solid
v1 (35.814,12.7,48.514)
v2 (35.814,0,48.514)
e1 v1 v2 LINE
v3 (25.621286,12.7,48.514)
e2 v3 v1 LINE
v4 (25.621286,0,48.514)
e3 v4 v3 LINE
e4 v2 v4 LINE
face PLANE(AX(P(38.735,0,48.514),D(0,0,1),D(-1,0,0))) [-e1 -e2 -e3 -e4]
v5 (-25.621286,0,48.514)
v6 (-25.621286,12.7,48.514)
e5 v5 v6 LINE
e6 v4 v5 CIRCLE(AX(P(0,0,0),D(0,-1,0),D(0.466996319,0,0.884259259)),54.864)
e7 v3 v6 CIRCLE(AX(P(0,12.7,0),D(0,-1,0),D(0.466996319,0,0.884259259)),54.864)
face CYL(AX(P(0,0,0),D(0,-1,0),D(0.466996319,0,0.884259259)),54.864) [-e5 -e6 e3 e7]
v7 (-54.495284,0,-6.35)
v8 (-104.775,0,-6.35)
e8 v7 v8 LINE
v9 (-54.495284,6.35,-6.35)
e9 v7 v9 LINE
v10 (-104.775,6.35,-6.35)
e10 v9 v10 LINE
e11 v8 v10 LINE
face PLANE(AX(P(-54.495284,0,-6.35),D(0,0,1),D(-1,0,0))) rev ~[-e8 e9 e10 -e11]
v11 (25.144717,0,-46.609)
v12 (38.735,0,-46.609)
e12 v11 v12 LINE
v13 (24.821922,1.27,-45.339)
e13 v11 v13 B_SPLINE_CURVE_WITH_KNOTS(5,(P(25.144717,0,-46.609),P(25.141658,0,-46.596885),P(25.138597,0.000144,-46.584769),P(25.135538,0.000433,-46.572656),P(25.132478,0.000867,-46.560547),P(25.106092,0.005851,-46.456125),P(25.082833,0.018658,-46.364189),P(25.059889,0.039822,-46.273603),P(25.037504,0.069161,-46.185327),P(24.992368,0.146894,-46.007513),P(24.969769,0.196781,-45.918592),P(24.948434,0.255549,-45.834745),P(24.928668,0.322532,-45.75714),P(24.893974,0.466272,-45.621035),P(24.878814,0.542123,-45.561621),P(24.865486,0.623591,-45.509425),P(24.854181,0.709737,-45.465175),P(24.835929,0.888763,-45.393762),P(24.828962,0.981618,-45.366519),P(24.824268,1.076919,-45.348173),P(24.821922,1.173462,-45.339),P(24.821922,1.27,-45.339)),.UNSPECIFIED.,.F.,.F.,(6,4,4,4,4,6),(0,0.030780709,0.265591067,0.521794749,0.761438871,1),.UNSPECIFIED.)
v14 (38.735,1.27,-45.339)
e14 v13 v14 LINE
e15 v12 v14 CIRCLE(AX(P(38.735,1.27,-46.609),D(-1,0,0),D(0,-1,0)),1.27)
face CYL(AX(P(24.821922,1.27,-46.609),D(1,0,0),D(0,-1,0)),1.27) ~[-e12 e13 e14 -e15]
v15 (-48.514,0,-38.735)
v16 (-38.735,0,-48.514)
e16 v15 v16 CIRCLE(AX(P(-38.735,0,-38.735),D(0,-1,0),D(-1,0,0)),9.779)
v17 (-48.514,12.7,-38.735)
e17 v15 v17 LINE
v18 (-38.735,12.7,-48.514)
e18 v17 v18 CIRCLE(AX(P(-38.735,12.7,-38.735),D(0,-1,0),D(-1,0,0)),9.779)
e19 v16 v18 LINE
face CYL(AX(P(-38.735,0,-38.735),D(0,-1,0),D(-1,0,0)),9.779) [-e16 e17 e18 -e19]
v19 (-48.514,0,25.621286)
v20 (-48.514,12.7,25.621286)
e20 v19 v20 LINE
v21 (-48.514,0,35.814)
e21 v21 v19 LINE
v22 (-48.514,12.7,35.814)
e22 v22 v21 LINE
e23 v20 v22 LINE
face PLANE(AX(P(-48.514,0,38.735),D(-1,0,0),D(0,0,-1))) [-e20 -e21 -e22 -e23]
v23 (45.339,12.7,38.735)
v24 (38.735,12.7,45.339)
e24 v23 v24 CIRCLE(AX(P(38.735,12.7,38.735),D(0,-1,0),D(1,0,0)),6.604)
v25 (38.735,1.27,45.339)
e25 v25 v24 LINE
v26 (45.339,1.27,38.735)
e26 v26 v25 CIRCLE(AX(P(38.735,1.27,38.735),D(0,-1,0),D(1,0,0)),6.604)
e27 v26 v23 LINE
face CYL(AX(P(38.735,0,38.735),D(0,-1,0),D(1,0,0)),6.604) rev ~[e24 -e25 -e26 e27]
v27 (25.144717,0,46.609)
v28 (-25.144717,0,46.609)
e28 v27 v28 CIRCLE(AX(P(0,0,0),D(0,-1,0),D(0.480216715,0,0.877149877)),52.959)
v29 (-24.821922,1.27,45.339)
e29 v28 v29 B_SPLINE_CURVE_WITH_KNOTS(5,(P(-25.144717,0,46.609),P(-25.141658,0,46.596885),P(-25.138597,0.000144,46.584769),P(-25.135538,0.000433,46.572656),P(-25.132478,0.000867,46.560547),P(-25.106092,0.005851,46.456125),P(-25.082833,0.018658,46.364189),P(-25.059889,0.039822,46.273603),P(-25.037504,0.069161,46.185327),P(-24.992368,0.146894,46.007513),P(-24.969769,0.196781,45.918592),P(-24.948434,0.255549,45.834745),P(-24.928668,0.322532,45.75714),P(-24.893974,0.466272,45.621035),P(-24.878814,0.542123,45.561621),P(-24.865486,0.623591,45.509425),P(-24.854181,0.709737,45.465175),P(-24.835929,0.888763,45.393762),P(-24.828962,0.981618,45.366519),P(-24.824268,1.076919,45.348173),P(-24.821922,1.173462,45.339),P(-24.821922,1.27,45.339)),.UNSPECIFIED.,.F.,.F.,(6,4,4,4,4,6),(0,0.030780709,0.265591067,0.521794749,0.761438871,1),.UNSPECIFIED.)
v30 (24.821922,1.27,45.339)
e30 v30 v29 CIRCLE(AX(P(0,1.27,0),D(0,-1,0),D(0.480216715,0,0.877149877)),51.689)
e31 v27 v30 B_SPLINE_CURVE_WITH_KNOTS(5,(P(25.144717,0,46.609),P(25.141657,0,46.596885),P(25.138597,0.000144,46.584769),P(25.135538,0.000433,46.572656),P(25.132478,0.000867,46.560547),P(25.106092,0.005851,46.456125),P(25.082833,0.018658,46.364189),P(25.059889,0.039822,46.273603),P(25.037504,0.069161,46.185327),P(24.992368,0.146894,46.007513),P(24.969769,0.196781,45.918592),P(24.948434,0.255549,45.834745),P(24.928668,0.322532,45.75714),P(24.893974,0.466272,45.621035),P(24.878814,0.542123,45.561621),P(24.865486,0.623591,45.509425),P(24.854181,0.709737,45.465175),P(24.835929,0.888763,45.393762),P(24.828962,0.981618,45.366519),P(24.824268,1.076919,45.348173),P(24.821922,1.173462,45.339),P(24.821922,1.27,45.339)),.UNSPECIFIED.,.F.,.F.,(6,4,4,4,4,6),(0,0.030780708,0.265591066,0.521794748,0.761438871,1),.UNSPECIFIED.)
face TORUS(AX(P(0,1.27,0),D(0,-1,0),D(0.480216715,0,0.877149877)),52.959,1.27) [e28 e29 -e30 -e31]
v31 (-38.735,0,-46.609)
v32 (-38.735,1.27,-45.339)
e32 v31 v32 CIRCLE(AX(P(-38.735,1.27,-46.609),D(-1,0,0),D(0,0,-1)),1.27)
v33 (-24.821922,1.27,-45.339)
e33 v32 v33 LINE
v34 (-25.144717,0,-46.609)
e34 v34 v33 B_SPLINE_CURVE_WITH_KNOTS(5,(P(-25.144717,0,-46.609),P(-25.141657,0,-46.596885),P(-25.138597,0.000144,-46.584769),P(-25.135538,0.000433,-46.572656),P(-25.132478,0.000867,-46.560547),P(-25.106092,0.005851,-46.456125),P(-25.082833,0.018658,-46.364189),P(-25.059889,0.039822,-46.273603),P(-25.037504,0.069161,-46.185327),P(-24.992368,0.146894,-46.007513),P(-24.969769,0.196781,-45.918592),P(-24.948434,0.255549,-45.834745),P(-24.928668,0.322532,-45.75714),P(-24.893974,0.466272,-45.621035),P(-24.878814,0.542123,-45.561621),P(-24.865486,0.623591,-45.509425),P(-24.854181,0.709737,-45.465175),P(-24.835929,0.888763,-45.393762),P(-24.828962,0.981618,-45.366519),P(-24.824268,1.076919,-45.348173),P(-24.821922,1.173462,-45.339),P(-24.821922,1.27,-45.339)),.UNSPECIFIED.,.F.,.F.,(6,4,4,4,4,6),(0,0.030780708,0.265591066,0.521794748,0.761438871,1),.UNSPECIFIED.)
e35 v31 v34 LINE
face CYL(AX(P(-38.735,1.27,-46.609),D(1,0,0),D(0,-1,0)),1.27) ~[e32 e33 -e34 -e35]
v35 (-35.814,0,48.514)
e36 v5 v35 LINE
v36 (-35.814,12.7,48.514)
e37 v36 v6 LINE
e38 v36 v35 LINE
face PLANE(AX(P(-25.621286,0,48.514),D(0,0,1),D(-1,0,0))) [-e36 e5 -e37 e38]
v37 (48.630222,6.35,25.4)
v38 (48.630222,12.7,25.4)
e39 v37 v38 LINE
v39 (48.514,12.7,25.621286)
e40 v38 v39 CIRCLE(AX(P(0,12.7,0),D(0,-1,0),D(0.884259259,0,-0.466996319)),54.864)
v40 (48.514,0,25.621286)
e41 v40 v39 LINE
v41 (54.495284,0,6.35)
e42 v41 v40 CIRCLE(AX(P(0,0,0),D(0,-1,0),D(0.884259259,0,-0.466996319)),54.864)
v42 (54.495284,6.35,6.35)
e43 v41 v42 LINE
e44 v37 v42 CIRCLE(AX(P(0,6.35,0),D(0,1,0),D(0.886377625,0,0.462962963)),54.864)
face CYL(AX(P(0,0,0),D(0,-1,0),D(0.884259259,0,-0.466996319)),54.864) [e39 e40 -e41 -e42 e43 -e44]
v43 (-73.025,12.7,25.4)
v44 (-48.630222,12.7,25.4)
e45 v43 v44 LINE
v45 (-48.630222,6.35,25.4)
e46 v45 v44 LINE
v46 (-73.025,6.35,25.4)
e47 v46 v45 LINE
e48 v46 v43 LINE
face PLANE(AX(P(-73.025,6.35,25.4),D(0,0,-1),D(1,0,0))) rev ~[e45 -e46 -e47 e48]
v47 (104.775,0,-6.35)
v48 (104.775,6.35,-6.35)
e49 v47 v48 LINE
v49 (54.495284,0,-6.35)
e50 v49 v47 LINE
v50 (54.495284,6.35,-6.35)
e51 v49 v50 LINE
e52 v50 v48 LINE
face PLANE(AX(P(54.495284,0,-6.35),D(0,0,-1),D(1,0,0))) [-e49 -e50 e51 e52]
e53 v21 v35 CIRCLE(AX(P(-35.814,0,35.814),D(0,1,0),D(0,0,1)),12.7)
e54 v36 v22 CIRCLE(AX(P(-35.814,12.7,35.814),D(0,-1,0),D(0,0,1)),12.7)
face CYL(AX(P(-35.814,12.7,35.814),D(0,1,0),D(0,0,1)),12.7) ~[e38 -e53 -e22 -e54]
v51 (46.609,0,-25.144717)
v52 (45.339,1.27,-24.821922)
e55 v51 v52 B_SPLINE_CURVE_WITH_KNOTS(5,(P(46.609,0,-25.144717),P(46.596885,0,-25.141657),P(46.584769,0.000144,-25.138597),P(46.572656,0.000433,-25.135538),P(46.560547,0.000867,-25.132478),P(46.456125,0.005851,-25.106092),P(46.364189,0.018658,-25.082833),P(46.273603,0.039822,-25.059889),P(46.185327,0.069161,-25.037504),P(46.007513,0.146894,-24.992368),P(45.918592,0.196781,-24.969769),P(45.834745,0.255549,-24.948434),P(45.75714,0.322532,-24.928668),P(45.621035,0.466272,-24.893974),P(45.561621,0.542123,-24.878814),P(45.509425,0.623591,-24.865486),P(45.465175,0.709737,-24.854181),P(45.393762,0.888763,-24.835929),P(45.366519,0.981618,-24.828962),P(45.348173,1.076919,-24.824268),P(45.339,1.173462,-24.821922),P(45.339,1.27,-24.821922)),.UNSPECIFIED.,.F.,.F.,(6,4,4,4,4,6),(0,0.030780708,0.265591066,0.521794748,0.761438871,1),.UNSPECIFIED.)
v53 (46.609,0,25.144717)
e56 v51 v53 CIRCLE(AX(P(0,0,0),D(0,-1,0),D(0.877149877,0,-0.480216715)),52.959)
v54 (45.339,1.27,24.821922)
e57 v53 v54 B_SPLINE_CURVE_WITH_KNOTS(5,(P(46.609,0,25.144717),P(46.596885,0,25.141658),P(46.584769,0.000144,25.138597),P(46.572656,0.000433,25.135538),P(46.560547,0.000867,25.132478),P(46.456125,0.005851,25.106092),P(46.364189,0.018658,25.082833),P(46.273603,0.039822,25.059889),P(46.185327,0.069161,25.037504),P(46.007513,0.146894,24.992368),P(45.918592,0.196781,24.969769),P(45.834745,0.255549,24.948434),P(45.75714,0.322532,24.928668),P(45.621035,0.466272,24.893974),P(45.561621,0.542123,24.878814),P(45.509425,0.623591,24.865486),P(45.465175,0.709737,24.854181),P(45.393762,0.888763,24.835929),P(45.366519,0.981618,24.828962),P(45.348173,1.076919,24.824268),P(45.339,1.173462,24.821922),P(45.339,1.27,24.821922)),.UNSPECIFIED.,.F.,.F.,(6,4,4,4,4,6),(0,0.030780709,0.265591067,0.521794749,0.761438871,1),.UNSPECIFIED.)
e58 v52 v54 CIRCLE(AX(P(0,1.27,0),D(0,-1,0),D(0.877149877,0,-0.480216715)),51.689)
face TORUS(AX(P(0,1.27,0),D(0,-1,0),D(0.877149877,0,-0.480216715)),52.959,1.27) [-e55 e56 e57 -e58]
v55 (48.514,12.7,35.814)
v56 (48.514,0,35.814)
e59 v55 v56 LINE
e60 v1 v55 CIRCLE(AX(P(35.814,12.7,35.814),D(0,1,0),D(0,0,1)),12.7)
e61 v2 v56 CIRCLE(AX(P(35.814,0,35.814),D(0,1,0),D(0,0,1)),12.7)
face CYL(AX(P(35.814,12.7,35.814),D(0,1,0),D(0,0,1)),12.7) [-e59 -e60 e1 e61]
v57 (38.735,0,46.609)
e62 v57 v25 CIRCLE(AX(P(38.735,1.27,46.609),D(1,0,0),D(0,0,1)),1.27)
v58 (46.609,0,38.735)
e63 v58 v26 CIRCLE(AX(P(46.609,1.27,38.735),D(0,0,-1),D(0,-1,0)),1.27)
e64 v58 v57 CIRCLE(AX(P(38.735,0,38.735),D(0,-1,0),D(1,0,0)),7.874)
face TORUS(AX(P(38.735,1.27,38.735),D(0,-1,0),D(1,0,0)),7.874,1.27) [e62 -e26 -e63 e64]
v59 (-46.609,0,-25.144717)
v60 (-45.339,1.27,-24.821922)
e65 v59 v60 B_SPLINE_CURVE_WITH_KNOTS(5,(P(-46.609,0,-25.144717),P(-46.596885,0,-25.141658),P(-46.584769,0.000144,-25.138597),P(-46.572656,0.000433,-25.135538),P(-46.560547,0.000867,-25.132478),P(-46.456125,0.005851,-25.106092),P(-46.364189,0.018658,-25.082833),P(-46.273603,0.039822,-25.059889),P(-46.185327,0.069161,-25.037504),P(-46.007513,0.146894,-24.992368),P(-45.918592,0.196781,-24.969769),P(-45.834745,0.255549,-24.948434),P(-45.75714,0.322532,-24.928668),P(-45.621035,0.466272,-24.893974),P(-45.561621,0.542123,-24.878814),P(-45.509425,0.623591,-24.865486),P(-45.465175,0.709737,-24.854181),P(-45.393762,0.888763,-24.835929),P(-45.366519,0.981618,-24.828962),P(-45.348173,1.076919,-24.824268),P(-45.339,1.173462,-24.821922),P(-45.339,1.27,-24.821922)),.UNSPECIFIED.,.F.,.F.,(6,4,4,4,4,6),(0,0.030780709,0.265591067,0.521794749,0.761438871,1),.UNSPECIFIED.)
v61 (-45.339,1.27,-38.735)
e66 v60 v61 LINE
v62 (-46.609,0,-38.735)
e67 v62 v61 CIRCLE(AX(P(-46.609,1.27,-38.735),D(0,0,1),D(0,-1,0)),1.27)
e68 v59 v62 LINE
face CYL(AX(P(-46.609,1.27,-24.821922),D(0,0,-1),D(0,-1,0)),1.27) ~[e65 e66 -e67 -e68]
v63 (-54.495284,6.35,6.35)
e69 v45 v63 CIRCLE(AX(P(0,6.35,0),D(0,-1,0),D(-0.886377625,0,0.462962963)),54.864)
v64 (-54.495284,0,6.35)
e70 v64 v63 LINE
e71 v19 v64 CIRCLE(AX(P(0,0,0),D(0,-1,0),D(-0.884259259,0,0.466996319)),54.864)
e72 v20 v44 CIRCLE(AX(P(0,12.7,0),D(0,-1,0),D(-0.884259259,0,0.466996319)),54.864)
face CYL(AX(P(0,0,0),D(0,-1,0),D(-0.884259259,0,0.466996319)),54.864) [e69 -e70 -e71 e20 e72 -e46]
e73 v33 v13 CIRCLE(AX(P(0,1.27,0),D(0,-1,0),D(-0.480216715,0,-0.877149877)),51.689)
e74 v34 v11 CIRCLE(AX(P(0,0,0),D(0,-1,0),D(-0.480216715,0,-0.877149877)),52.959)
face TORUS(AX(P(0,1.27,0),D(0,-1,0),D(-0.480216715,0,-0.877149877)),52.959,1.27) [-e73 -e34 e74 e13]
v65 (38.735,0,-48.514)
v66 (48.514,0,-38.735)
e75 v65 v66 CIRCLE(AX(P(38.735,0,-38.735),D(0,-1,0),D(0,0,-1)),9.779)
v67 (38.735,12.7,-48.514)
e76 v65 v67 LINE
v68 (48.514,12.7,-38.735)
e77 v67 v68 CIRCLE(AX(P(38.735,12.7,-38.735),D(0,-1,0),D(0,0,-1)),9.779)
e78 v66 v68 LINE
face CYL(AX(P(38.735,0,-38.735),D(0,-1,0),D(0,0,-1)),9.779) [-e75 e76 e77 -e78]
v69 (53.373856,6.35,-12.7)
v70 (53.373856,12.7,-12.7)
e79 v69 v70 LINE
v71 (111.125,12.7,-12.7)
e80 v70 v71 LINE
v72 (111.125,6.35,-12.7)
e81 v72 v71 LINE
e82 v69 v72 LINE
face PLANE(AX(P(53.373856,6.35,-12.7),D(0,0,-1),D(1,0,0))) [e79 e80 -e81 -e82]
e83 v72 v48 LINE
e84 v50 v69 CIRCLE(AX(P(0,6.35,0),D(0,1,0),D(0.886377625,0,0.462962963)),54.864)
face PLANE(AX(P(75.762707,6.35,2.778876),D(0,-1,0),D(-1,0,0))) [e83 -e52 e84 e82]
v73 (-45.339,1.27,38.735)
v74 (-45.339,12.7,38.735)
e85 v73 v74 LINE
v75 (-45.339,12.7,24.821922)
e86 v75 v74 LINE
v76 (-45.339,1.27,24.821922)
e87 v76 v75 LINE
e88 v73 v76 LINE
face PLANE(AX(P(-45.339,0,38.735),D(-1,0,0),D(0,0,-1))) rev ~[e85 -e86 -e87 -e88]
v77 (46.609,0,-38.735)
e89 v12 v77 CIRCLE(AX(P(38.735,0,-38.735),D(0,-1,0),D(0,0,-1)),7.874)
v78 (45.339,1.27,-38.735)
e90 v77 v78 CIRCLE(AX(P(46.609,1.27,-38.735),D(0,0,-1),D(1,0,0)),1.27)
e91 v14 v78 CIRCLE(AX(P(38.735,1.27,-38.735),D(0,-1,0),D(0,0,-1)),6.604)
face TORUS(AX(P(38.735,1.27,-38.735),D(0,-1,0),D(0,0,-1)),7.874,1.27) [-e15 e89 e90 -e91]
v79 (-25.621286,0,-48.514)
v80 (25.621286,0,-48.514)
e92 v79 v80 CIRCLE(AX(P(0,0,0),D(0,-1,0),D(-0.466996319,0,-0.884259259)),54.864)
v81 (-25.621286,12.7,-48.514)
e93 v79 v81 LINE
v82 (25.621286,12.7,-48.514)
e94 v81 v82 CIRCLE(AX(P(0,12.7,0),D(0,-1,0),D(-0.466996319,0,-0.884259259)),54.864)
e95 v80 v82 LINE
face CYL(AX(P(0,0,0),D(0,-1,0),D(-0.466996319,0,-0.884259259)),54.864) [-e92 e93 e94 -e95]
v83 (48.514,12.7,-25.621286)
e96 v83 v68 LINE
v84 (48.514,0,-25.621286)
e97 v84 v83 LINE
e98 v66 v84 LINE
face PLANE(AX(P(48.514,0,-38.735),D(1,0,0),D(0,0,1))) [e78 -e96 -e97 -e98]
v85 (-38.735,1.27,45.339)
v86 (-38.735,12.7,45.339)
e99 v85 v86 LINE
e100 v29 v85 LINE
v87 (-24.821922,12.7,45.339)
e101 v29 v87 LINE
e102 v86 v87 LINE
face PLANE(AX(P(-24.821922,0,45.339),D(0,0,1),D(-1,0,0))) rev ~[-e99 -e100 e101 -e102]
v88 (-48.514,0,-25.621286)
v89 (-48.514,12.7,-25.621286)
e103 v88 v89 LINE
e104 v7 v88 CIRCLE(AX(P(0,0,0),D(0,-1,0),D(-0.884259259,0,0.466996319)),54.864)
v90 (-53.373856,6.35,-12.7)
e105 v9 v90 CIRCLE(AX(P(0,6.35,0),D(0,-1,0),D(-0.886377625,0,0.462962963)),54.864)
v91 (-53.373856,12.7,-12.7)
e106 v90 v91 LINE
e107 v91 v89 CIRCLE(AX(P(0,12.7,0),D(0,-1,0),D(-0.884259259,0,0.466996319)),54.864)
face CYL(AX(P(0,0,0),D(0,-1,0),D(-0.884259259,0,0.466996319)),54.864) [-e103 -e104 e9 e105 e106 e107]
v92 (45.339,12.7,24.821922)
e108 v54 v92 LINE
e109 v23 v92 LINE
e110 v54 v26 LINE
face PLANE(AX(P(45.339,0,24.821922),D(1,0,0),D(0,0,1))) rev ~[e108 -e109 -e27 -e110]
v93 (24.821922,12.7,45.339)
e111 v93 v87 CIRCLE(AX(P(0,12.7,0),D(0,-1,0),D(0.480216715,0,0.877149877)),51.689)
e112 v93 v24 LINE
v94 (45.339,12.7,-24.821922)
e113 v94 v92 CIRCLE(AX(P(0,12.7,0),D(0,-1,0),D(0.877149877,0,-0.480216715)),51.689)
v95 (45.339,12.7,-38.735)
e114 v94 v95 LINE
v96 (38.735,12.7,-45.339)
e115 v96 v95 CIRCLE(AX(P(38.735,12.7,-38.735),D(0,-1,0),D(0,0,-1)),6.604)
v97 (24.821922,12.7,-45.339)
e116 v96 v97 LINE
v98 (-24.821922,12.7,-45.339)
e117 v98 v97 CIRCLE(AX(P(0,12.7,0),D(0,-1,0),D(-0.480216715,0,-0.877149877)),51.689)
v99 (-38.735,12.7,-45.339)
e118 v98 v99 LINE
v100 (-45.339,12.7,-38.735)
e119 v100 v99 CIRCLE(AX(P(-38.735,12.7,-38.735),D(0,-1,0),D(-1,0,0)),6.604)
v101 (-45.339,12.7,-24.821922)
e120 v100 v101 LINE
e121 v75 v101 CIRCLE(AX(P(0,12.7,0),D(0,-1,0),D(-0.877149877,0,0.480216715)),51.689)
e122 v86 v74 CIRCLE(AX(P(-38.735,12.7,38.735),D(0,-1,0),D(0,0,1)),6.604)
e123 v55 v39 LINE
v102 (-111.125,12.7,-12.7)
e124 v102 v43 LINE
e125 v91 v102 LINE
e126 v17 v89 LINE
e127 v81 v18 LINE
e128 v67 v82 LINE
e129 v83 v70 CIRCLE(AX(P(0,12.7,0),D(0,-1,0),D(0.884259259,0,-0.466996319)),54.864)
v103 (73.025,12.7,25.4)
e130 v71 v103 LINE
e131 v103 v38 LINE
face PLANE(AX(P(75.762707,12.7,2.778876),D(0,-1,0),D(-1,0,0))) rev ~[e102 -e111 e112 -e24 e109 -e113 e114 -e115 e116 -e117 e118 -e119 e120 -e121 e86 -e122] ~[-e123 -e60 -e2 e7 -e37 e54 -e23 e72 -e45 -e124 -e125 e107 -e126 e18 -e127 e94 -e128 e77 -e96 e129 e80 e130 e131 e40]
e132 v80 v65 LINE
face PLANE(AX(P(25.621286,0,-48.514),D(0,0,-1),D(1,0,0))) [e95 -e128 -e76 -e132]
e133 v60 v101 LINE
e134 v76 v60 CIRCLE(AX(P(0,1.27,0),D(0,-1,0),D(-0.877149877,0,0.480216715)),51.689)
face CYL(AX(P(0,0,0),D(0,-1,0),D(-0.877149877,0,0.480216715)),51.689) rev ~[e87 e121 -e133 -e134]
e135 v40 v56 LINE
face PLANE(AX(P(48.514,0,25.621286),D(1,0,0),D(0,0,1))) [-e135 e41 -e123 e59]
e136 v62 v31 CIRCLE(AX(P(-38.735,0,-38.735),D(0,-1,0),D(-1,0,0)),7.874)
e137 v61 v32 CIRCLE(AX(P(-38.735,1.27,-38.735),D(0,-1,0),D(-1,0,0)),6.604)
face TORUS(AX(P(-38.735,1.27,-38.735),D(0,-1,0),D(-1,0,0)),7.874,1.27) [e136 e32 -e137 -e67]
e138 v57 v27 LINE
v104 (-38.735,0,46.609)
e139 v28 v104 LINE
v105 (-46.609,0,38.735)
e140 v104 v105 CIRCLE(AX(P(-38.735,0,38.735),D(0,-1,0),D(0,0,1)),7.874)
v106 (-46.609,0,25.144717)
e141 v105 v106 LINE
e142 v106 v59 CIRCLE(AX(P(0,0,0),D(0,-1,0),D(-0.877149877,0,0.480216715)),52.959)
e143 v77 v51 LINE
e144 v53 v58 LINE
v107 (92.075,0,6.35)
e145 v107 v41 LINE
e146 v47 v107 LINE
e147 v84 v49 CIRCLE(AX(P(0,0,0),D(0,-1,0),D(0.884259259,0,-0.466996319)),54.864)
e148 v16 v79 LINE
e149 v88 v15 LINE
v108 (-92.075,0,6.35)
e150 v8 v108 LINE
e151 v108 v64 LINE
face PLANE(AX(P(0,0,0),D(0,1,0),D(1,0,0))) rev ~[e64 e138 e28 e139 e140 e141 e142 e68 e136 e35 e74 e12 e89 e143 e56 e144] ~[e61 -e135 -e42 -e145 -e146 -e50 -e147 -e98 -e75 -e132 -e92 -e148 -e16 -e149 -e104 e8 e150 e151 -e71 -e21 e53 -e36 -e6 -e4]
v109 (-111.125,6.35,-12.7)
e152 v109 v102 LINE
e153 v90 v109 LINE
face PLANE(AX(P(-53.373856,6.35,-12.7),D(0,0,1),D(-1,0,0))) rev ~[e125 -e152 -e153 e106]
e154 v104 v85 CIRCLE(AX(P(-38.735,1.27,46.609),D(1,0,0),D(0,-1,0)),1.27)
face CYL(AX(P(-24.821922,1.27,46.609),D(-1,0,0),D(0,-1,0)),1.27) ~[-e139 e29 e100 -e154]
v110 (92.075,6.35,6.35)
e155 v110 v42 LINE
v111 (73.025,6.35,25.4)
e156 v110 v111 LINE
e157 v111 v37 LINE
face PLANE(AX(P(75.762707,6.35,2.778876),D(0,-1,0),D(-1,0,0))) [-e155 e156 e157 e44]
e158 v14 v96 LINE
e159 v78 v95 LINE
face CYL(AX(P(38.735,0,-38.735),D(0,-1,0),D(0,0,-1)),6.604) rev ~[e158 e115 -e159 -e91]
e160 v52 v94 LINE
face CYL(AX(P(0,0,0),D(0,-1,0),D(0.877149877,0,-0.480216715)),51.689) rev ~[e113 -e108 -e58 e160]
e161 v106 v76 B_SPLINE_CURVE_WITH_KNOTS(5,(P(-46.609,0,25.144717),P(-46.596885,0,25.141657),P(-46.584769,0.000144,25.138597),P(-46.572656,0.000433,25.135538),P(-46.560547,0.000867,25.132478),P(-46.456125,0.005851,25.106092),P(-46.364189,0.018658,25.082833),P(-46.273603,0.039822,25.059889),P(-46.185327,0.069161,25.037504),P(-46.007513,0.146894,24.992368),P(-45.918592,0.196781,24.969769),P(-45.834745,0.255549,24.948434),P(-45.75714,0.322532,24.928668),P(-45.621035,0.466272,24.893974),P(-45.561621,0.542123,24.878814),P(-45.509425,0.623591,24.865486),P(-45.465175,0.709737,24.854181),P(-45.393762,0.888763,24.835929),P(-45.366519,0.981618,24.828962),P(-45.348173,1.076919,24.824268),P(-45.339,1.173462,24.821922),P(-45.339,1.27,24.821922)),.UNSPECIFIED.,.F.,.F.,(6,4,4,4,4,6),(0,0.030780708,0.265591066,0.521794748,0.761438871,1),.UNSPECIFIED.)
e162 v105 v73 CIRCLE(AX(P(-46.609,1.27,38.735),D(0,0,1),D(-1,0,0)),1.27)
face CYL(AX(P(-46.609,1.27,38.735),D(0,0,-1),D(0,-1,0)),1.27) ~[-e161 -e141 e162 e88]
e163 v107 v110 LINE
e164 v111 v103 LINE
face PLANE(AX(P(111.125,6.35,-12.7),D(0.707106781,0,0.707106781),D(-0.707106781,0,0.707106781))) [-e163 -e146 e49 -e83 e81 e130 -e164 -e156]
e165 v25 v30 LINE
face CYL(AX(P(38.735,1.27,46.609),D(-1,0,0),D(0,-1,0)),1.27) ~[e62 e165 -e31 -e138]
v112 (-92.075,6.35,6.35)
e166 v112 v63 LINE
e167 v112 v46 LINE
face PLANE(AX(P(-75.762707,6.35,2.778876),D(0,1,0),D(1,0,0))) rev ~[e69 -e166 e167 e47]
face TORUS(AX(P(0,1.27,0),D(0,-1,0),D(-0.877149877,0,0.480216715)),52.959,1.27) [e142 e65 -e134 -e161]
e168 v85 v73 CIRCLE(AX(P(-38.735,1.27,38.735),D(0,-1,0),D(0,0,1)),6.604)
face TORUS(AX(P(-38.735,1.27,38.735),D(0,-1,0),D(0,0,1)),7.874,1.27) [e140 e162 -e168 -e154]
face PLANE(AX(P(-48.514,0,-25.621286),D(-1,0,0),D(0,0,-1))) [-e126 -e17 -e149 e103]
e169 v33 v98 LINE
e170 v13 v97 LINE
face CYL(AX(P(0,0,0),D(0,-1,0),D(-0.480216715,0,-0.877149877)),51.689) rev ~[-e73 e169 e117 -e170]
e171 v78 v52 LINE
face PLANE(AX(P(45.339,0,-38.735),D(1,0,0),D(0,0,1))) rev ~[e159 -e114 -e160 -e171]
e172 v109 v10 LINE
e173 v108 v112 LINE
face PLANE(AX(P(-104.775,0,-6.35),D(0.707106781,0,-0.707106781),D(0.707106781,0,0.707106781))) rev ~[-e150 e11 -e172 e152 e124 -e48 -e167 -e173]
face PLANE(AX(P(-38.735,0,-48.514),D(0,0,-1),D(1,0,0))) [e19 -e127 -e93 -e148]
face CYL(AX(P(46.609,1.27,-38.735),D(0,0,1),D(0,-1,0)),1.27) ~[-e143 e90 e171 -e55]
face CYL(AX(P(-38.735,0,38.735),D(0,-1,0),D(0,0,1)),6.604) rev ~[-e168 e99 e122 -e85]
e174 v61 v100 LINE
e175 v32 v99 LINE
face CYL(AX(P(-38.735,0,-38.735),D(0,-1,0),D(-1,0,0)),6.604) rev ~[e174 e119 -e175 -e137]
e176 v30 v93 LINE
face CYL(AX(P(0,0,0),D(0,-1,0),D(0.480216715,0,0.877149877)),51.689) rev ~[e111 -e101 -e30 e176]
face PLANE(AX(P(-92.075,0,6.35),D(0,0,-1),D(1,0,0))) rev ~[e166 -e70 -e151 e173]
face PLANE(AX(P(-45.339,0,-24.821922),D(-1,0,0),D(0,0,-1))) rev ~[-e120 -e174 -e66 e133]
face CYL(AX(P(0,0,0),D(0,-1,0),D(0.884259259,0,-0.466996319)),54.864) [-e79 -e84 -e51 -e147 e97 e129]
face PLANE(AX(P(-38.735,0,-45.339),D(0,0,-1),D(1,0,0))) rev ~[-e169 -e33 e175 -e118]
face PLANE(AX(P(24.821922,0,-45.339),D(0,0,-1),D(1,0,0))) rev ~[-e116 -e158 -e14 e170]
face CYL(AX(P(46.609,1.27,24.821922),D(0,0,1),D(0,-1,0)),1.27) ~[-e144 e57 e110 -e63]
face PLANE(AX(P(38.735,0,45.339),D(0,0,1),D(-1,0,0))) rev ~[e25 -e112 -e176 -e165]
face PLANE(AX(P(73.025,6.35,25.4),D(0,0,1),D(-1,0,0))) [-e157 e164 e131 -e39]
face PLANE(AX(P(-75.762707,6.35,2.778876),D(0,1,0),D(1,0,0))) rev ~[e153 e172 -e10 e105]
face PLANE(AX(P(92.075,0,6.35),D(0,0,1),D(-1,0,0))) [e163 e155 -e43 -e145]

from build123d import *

# Parameters (mm, degrees)
SKETCH1_W           = 254
SKETCH1_H           = 152.4
BOSS_EXTRUDE1_DEPTH = 12.7
SKETCH4_OUTSIDE_W   = 315.296
SKETCH4_OUTSIDE_H   = 213.696
CUT_EXTRUDE1_DEPTH  = 13.7
BOSS_EXTRUDE2_DEPTH = 6.35
BOSS_EXTRUDE3_START = 6.35
BOSS_EXTRUDE3_DEPTH = 6.35
FILLET1_R           = 1.27
CUT_EXTRUDE3_DEPTH  = 13.7000001


with BuildPart() as part:
    # Sketch1 → Boss-Extrude1 (new body)
    with BuildSketch(Plane(origin=(0, 0, 0), x_dir=(1, 0, 0), z_dir=(0, 1, 0))):
        Rectangle(SKETCH1_W, SKETCH1_H)
    extrude(amount=BOSS_EXTRUDE1_DEPTH)

    # Sketch4 outside → Cut-Extrude1 (cut, through all)
    with BuildSketch(Plane.XZ):
        Rectangle(SKETCH4_OUTSIDE_W, SKETCH4_OUTSIDE_H)
        with BuildLine():
            Line((48.514, 25.621286072), (48.514, 38.735))
            ThreePointArc((48.514, 38.735), (45.649797213, 45.649797213), (38.735, 48.514))
            Line((38.735, 48.514), (25.621286072, 48.514))
            ThreePointArc((25.621286072, 48.514), (0, 54.864), (-25.621286072, 48.514))
            Line((-25.621286072, 48.514), (-38.735, 48.514))
            ThreePointArc((-38.735, 48.514), (-45.649797213, 45.649797213), (-48.514, 38.735))
            Line((-48.514, 38.735), (-48.514, 25.621286072))
            ThreePointArc((-48.514, 25.621286072), (-54.864, 0), (-48.514, -25.621286072))
            Line((-48.514, -25.621286072), (-48.514, -38.735))
            ThreePointArc((-48.514, -38.735), (-45.649797213, -45.649797213), (-38.735, -48.514))
            Line((-38.735, -48.514), (-25.621286072, -48.514))
            ThreePointArc((-25.621286072, -48.514), (0, -54.864), (25.621286072, -48.514))
            Line((25.621286072, -48.514), (38.735, -48.514))
            ThreePointArc((38.735, -48.514), (45.649797213, -45.649797213), (48.514, -38.735))
            Line((48.514, -38.735), (48.514, -25.621286072))
            ThreePointArc((48.514, -25.621286072), (54.864, 0), (48.514, 25.621286072))
        make_face(mode=Mode.SUBTRACT)
        with BuildLine():
            Line((45.339, 24.821921763), (45.339, 38.735))
            ThreePointArc((45.339, 38.735), (43.404733183, 43.404733183), (38.735, 45.339))
            Line((38.735, 45.339), (24.821921763, 45.339))
            ThreePointArc((24.821921763, 45.339), (0, 51.689), (-24.821921763, 45.339))
            Line((-24.821921763, 45.339), (-38.735, 45.339))
            ThreePointArc((-38.735, 45.339), (-43.404733183, 43.404733183), (-45.339, 38.735))
            Line((-45.339, 38.735), (-45.339, 24.821921763))
            ThreePointArc((-45.339, 24.821921763), (-51.689, 0), (-45.339, -24.821921763))
            Line((-45.339, -24.821921763), (-45.339, -38.735))
            ThreePointArc((-45.339, -38.735), (-43.404733183, -43.404733183), (-38.735, -45.339))
            Line((-38.735, -45.339), (-24.821921763, -45.339))
            ThreePointArc((-24.821921763, -45.339), (0, -51.689), (24.821921763, -45.339))
            Line((24.821921763, -45.339), (38.735, -45.339))
            ThreePointArc((38.735, -45.339), (43.404733183, -43.404733183), (45.339, -38.735))
            Line((45.339, -38.735), (45.339, -24.821921763))
            ThreePointArc((45.339, -24.821921763), (51.689, 0), (45.339, 24.821921763))
        make_face()
    extrude(amount=-CUT_EXTRUDE1_DEPTH, mode=Mode.SUBTRACT)

    # Sketch5 → Boss-Extrude2 (add)
    with BuildSketch(Plane(origin=(0, 0, 0), x_dir=(1, 0, 0), z_dir=(0, 1, 0))):
        with BuildLine():
            Line((54.495284163, 6.35), (104.775, 6.35))
            Line((104.775, 6.35), (92.075, -6.35))
            Line((92.075, -6.35), (54.495284163, -6.35))
            ThreePointArc((54.495284163, -6.35), (54.864, 0), (54.495284163, 6.35))
        make_face()
        with BuildLine():
            Line((-92.075, -6.35), (-54.495284163, -6.35))
            ThreePointArc((-54.495284163, -6.35), (-54.864, 0), (-54.495284163, 6.35))
            Line((-54.495284163, 6.35), (-104.775, 6.35))
            Line((-104.775, 6.35), (-92.075, -6.35))
        make_face()
    extrude(amount=BOSS_EXTRUDE2_DEPTH)

    # Sketch6 → Boss-Extrude3 (add)
    with BuildSketch(Plane(origin=(0, 0, 0), x_dir=(1, 0, 0), z_dir=(0, 1, 0)).offset(BOSS_EXTRUDE3_START)):
        with BuildLine():
            Line((53.373855922, 12.7), (111.125, 12.7))
            Line((111.125, 12.7), (73.025, -25.4))
            Line((73.025, -25.4), (48.630222043, -25.4))
            ThreePointArc((48.630222043, -25.4), (54.443644996, -6.778496559), (53.373855922, 12.7))
        make_face()
        with BuildLine():
            Line((-73.025, -25.4), (-48.630222043, -25.4))
            ThreePointArc((-48.630222043, -25.4), (-54.443644996, -6.778496559), (-53.373855922, 12.7))
            Line((-53.373855922, 12.7), (-111.125, 12.7))
            Line((-111.125, 12.7), (-73.025, -25.4))
        make_face()
    extrude(amount=BOSS_EXTRUDE3_DEPTH)

    # Fillet1
    fillet1_edges = [part.edges().sort_by_distance(p)[0] for p in [
        (51.689, 0, 0),
        (45.339, 0, 31.778460881),
        (43.404733183, 0, 43.404733183),
        (31.778460881, 0, 45.339),
        (0, 0, 51.689),
        (-31.778460881, 0, 45.339),
        (-43.404733183, 0, 43.404733183),
        (-45.339, 0, 31.778460881),
        (-51.689, 0, 0),
        (-45.339, 0, -31.778460881),
        (-43.404733183, 0, -43.404733183),
        (-31.778460881, 0, -45.339),
        (0, 0, -51.689),
        (31.778460881, 0, -45.339),
        (43.404733183, 0, -43.404733183),
        (45.339, 0, -31.778460881),
    ]]
    fillet(fillet1_edges, radius=FILLET1_R)

    # Sketch9 → Cut-Extrude3 (cut, through all)
    with BuildSketch(Plane(origin=(0, 12.7, 0), x_dir=(1, 0, 0), z_dir=(0, 1, 0))):
        with BuildLine():
            Line((38.735, -48.514), (35.814, -48.514))
            ThreePointArc((35.814, -48.514), (44.794256121, -44.794256121), (48.514, -35.814))
            Line((48.514, -35.814), (48.514, -38.735))
            ThreePointArc((48.514, -38.735), (45.649797213, -45.649797213), (38.735, -48.514))
        make_face()
        with BuildLine():
            Line((-48.514, -35.814), (-48.514, -38.735))
            ThreePointArc((-48.514, -38.735), (-45.649797213, -45.649797213), (-38.735, -48.514))
            Line((-38.735, -48.514), (-35.814, -48.514))
            ThreePointArc((-35.814, -48.514), (-44.794256121, -44.794256121), (-48.514, -35.814))
        make_face()
    extrude(amount=-CUT_EXTRUDE3_DEPTH, mode=Mode.SUBTRACT)


solid = part.part
